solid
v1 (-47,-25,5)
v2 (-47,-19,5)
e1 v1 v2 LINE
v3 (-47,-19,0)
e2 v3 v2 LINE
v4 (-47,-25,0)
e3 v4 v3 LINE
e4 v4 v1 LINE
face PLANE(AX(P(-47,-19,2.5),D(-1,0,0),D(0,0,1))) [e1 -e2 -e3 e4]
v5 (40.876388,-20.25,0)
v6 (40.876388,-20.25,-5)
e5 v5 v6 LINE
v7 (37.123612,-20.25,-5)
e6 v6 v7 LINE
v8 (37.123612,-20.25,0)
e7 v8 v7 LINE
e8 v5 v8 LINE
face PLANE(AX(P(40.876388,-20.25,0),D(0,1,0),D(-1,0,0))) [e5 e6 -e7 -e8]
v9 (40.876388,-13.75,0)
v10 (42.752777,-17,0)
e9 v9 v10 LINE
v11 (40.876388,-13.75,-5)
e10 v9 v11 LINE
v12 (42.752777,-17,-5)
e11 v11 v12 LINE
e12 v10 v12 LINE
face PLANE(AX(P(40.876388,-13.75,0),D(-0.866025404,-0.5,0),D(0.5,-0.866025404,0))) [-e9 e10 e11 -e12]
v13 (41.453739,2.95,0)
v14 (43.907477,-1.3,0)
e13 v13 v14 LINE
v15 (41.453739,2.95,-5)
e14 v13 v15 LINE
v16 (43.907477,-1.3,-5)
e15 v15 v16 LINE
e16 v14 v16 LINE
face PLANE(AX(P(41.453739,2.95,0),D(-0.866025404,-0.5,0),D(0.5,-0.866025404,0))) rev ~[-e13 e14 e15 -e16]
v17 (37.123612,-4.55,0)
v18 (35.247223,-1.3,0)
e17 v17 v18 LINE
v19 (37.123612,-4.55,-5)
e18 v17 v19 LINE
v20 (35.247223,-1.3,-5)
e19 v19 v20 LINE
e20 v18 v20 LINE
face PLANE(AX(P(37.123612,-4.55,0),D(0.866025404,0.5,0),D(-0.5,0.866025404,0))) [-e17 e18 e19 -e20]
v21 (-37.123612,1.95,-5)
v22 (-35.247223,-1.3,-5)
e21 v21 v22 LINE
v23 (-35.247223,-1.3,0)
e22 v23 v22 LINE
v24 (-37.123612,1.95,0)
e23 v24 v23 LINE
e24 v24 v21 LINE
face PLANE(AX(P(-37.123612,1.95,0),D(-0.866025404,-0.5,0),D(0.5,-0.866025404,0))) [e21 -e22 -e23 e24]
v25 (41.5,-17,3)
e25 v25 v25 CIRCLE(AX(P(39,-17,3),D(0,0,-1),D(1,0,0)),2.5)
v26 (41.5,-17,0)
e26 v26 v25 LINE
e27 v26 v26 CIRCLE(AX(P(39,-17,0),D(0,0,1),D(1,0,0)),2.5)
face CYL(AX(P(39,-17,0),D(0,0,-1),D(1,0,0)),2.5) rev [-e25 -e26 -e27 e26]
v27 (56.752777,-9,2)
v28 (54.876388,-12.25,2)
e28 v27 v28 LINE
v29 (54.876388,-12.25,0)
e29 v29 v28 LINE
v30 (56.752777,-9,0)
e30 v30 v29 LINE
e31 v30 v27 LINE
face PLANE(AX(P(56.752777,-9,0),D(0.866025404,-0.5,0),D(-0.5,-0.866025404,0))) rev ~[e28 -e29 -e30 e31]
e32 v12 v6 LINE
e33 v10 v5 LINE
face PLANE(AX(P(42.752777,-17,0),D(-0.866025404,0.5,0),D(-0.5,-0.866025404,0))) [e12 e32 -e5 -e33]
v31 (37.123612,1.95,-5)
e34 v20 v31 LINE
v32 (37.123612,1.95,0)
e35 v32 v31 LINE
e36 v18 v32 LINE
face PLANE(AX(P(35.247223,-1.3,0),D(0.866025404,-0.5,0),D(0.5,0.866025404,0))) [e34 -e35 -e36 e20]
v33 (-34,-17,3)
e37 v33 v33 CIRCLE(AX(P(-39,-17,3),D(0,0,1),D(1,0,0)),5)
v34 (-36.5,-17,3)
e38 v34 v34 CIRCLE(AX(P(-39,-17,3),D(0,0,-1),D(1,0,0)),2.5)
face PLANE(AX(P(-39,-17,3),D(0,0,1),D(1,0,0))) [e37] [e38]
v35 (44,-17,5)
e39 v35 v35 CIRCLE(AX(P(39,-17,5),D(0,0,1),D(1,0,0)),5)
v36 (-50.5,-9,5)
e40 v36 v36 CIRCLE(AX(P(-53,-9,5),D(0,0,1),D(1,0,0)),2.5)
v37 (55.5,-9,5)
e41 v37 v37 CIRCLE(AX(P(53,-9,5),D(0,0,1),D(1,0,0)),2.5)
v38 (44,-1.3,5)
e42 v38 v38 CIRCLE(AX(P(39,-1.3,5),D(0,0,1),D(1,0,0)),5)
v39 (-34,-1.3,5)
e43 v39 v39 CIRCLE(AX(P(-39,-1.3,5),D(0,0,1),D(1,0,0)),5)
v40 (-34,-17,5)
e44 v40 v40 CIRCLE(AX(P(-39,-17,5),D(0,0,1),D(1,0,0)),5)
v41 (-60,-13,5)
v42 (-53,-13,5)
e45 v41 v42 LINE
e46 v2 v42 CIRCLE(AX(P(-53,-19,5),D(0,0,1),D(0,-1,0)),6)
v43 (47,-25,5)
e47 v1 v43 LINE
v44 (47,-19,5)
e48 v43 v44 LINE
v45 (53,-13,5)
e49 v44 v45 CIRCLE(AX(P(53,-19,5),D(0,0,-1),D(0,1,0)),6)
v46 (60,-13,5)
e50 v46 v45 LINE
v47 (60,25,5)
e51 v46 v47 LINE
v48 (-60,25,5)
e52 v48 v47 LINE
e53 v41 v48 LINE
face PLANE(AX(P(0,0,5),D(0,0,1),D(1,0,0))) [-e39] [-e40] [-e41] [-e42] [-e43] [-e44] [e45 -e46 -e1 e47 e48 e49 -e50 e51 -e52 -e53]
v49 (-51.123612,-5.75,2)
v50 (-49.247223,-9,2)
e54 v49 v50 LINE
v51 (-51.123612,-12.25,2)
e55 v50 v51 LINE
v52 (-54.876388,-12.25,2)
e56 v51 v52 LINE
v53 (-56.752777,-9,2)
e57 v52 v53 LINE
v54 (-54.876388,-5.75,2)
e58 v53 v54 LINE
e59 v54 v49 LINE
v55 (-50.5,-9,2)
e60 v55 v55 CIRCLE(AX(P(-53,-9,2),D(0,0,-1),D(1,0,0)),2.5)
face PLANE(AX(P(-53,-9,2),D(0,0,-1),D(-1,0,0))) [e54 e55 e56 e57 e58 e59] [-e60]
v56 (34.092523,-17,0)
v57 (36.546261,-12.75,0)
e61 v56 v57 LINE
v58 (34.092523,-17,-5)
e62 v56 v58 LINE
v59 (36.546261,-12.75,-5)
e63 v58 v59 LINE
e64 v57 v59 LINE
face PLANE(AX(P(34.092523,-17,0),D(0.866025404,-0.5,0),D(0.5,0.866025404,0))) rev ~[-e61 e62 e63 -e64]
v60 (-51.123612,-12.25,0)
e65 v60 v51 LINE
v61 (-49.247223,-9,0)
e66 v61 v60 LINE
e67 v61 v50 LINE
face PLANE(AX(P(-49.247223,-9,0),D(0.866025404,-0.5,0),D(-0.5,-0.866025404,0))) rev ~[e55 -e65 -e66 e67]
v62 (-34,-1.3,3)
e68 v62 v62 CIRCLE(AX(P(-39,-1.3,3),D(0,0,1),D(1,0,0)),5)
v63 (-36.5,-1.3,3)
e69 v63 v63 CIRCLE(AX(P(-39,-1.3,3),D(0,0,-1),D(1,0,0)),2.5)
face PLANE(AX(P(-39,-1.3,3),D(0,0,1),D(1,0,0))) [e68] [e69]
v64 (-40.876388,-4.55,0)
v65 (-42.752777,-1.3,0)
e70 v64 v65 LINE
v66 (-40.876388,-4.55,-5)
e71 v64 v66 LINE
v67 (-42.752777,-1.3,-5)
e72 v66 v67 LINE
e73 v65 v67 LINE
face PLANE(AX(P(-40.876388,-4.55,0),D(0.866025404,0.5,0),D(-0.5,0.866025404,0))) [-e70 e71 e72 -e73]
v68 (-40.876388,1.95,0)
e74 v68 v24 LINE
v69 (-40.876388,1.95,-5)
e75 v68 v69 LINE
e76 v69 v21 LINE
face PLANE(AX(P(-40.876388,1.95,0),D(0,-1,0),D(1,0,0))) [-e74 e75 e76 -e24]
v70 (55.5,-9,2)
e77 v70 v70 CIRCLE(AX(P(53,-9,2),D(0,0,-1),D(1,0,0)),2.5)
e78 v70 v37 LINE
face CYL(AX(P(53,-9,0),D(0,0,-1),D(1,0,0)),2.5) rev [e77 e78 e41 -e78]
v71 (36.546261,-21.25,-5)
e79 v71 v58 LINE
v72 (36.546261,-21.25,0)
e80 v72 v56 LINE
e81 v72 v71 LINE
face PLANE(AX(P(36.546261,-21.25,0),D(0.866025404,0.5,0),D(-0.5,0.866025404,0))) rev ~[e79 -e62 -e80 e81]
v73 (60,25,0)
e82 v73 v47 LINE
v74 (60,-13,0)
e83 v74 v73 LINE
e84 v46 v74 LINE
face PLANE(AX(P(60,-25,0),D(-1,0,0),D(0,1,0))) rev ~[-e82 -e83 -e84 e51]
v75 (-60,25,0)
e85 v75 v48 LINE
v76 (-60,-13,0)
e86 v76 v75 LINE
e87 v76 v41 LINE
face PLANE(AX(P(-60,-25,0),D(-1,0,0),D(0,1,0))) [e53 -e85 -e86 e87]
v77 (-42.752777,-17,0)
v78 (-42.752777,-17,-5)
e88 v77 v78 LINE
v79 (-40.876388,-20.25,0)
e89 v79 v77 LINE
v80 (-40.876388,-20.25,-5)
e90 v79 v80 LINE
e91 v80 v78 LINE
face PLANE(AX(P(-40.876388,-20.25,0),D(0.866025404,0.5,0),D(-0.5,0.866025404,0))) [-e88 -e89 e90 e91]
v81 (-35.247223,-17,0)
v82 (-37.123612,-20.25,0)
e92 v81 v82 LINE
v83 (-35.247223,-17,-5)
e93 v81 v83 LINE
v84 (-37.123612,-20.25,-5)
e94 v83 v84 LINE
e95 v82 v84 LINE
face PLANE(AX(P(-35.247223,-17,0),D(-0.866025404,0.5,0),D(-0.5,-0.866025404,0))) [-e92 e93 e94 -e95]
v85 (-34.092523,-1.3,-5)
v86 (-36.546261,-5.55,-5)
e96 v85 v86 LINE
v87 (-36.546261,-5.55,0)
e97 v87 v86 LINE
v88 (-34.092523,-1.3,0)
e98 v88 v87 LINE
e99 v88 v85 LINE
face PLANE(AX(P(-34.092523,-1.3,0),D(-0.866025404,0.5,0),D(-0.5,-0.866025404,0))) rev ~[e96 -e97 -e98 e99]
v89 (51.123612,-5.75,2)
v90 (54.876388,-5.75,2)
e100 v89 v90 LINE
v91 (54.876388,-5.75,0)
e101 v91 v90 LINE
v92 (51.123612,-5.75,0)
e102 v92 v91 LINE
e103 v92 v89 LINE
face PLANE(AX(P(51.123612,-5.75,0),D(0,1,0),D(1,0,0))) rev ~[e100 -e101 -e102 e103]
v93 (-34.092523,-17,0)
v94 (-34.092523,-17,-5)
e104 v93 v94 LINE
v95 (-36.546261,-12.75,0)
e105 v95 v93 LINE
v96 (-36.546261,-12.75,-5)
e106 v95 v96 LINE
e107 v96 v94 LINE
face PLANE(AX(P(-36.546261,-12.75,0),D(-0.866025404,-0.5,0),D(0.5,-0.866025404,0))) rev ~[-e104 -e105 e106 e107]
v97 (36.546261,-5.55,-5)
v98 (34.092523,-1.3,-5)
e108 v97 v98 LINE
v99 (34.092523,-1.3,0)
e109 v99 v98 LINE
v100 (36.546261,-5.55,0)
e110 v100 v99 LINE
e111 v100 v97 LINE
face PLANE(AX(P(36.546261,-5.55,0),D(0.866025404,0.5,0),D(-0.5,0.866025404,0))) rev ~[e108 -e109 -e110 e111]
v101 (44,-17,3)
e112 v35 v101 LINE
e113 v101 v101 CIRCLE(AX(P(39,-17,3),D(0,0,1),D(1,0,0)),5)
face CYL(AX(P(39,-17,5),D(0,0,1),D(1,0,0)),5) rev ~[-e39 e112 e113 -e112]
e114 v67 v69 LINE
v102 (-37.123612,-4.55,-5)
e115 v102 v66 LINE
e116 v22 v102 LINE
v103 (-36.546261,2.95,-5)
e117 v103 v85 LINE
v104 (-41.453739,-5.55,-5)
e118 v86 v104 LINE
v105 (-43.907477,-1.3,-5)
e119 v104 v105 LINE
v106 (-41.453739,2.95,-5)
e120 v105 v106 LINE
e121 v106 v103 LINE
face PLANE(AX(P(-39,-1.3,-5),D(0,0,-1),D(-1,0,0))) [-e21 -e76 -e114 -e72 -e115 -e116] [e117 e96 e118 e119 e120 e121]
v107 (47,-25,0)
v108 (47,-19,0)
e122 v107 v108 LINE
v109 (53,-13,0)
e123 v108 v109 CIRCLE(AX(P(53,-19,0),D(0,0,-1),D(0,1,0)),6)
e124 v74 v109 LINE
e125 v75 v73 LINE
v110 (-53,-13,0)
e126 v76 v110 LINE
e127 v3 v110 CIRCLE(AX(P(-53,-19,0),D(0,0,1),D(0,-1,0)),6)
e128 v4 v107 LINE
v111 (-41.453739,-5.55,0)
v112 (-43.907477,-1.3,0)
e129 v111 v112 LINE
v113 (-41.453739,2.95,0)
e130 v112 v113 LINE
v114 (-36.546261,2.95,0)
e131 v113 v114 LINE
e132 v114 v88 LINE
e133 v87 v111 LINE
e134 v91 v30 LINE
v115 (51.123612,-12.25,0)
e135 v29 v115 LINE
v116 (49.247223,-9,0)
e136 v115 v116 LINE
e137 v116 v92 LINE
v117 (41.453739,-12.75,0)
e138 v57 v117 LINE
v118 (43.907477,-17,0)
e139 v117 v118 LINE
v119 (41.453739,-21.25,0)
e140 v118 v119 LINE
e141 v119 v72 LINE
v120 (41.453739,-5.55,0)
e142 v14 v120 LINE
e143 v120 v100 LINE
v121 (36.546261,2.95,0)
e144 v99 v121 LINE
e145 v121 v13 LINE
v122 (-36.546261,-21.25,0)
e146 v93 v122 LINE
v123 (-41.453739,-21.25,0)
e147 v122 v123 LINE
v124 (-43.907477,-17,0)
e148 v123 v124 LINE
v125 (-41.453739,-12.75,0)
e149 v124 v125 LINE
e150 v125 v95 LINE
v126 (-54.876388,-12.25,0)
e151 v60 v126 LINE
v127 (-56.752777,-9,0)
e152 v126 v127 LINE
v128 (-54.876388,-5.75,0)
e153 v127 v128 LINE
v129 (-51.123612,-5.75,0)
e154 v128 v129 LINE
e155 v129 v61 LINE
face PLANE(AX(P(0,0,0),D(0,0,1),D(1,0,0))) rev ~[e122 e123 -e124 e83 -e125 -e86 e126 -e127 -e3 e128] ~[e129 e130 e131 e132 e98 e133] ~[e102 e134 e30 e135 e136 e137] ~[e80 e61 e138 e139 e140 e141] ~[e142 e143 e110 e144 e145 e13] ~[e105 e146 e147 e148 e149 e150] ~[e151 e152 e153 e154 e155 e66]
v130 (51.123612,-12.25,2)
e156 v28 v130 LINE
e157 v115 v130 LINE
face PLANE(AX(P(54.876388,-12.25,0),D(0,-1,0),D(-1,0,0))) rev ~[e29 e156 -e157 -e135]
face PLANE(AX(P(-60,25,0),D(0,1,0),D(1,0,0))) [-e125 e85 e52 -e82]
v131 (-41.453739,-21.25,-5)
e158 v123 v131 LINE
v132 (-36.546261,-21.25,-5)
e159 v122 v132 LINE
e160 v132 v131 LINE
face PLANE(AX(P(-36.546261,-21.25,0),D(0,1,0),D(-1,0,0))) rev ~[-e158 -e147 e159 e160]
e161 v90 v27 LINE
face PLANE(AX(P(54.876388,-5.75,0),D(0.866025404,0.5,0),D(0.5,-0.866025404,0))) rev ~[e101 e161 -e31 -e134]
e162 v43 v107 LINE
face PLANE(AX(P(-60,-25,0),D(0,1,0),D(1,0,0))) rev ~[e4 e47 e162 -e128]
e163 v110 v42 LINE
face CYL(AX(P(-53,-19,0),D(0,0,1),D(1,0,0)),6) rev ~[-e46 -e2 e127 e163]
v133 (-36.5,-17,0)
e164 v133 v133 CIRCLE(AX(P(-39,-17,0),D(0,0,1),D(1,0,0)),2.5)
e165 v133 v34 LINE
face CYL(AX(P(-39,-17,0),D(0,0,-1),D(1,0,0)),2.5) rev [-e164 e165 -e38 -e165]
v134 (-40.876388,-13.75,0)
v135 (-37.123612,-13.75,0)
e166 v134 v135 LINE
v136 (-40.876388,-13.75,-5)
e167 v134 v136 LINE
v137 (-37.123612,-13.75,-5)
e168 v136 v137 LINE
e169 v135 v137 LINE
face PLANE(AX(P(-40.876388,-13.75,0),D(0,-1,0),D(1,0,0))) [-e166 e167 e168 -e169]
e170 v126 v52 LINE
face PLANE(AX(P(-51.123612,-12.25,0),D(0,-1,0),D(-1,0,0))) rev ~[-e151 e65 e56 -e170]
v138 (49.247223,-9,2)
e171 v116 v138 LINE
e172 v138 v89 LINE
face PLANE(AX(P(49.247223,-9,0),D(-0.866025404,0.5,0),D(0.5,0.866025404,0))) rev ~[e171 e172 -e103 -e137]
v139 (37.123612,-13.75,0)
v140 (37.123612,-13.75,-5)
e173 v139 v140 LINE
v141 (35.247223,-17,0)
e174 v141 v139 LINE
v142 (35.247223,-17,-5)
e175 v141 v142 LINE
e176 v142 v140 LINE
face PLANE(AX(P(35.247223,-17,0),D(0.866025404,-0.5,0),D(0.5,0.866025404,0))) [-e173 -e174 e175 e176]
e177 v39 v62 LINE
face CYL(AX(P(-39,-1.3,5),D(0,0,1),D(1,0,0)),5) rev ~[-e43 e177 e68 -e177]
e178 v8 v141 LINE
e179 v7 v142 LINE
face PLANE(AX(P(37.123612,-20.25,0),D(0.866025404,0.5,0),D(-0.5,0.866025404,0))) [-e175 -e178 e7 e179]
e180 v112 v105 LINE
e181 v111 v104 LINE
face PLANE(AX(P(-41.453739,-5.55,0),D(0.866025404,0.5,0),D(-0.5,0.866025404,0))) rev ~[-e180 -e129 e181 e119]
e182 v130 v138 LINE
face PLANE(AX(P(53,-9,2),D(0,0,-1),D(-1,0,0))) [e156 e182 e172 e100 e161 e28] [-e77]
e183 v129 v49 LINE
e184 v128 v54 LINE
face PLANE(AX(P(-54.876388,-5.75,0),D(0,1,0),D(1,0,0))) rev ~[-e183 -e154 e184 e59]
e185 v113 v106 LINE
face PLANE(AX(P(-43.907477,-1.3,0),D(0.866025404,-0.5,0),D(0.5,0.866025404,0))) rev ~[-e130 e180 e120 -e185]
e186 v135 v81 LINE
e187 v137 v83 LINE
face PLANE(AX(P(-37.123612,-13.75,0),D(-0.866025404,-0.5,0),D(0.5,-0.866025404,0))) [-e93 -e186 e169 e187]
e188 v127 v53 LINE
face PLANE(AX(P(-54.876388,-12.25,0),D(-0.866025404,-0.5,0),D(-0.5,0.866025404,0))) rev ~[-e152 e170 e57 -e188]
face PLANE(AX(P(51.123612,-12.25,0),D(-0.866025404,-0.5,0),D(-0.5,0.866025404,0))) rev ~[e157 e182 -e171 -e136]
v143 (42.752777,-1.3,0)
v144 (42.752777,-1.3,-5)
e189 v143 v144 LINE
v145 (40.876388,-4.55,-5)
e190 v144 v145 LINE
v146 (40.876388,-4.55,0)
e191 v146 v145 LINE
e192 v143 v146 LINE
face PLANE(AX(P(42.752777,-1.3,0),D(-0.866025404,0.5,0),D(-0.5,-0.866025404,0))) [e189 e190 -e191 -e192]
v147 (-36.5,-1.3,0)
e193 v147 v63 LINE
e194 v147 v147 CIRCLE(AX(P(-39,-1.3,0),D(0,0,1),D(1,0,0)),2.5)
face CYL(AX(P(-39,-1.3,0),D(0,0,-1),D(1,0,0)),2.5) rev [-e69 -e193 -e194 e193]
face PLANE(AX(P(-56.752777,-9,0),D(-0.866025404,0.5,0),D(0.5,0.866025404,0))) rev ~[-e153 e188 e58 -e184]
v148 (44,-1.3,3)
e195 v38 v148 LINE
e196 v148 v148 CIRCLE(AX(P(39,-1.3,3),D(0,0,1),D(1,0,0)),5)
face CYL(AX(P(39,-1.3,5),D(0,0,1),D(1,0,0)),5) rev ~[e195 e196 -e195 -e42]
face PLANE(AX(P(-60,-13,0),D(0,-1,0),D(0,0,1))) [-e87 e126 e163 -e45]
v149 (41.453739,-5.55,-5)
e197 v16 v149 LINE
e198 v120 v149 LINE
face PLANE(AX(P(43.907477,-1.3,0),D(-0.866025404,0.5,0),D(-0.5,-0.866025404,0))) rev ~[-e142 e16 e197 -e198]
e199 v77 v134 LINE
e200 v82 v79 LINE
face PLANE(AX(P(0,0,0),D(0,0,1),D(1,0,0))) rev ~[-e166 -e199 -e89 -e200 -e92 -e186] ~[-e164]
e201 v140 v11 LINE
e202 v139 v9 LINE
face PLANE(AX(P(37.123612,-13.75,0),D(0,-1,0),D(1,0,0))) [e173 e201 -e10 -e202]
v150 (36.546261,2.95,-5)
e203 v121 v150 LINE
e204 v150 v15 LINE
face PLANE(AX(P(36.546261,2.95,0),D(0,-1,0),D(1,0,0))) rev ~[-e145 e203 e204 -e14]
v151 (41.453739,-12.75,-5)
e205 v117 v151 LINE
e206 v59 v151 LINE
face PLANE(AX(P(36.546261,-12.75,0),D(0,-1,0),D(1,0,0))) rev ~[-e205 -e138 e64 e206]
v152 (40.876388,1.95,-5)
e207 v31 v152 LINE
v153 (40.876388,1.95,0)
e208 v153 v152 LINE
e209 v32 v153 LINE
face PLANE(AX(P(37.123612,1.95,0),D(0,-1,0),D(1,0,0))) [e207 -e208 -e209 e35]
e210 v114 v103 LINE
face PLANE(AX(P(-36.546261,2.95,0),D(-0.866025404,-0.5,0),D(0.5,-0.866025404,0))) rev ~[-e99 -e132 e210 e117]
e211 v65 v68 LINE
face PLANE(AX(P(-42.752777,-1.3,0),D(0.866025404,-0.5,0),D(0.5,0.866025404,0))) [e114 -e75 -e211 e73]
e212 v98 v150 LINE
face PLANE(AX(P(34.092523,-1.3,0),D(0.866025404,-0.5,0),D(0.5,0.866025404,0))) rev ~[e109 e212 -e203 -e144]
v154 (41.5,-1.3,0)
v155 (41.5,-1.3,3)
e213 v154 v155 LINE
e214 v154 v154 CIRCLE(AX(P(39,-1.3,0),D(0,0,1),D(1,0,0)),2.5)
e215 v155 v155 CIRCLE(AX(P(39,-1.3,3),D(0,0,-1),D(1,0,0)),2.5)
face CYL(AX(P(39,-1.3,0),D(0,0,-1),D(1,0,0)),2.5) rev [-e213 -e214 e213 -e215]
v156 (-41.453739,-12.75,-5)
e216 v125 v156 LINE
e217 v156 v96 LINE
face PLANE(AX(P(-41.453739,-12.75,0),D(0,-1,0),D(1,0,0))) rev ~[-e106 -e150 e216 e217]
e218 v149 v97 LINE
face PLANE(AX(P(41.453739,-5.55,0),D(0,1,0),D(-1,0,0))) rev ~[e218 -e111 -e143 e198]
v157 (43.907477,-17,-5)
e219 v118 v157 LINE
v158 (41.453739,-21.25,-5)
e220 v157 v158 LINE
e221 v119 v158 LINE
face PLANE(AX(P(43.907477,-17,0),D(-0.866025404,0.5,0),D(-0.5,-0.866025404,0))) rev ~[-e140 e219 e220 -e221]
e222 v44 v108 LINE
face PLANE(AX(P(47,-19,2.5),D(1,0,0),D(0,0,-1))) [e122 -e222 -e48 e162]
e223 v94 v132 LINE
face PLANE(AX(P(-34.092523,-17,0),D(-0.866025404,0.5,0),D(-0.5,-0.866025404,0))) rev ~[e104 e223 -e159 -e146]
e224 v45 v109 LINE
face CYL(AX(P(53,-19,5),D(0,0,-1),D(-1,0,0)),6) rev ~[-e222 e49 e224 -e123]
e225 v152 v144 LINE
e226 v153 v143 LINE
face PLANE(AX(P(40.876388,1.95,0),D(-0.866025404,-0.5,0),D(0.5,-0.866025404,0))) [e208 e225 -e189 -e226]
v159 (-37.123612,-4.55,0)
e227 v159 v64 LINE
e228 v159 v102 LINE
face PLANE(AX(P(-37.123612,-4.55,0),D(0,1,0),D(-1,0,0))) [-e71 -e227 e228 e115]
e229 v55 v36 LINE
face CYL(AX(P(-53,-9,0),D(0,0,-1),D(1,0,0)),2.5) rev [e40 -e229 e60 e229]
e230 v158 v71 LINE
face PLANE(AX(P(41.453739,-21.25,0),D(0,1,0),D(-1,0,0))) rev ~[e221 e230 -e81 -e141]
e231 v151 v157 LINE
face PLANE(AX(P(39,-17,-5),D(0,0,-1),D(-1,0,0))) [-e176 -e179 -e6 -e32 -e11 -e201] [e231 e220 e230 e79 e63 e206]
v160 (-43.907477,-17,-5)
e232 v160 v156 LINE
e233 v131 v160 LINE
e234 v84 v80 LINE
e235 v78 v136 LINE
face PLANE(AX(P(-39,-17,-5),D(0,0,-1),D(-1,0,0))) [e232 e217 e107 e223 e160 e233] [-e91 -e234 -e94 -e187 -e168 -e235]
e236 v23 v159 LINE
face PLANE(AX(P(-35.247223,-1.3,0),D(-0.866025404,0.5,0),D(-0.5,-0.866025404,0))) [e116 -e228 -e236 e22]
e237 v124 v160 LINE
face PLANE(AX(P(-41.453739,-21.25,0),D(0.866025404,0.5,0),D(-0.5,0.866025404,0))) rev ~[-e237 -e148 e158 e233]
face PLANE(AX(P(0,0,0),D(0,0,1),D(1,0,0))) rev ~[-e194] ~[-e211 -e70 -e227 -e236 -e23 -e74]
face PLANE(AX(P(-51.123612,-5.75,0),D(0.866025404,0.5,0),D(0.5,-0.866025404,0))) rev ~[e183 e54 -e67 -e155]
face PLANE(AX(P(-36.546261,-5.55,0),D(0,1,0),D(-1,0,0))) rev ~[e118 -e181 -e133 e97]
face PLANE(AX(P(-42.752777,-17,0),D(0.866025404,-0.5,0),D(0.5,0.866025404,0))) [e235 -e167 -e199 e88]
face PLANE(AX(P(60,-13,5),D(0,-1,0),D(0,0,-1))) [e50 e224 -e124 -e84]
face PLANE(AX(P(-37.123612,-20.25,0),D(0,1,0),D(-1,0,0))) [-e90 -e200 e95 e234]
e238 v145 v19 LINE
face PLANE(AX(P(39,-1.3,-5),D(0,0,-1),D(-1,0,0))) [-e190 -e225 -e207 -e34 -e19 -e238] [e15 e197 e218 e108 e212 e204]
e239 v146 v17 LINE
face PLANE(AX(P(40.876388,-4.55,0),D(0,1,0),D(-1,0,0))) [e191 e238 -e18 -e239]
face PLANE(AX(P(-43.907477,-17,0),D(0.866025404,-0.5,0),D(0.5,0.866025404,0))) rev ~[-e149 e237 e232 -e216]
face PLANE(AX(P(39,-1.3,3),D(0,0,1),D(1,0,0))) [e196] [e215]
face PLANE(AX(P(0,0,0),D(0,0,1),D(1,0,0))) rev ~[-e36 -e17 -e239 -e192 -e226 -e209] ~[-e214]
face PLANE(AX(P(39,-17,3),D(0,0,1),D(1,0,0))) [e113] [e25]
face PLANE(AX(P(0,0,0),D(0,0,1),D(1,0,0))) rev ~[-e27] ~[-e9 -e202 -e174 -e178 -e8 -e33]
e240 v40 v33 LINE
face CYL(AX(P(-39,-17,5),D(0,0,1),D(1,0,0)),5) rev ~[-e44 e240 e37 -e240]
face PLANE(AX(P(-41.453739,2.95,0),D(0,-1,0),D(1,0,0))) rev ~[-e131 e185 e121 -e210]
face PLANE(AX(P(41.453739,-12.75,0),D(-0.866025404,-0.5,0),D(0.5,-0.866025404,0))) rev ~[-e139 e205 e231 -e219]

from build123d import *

# Parameters (mm, degrees)
SKETCH_1_W          = 120
SKETCH_1_H          = 50
SKETCH_1_R          = 2.5
EXTRUDE_2_DEPTH     = 5
SKETCH_4_R          = 2.5
CUT_EXTRUDE_1_DEPTH = 66.192024052
SKETCH_7_R          = 5
CUT_EXTRUDE_4_DEPTH = 2
EXTRUDE_3_DEPTH     = 5
SKETCH_11_W         = 5
SKETCH_11_H         = 12
CUT_EXTRUDE_5_DEPTH = 13
FILLET_3_R          = 6
SKETCH_12_W         = 5
SKETCH_12_H         = 12
CUT_EXTRUDE_6_DEPTH = 13
FILLET_4_R          = 6
CUT_EXTRUDE_7_DEPTH = 2


with BuildPart() as part:
    # 草图1 → 凸台-拉伸2 (new body)
    with BuildSketch(Plane.XY):
        Rectangle(SKETCH_1_W, SKETCH_1_H)
        with Locations((-53, -9)):
            Circle(SKETCH_1_R, mode=Mode.SUBTRACT)
        with Locations((53, -9)):
            Circle(SKETCH_1_R, mode=Mode.SUBTRACT)
    extrude(amount=EXTRUDE_2_DEPTH)

    # 草图4 → 切除-拉伸1 (cut, through all)
    with BuildSketch(Plane.XY):
        with Locations((-39, -1.3)):
            Circle(SKETCH_4_R)
        with Locations((-39, -17)):
            Circle(SKETCH_4_R)
        with Locations((39, -1.3)):
            Circle(SKETCH_4_R)
        with Locations((39, -17)):
            Circle(SKETCH_4_R)
    extrude(amount=CUT_EXTRUDE_1_DEPTH, mode=Mode.SUBTRACT)

    # 草图7 → 切除-拉伸4 (cut)
    with BuildSketch(Plane.XY.offset(5)):
        with Locations((-39, -1.3)):
            Circle(SKETCH_7_R)
        with Locations((-39, -17)):
            Circle(SKETCH_7_R)
        with Locations((39, -1.3)):
            Circle(SKETCH_7_R)
        with Locations((39, -17)):
            Circle(SKETCH_7_R)
    extrude(amount=-CUT_EXTRUDE_4_DEPTH, mode=Mode.SUBTRACT)

    # 草图9 → 凸台-拉伸3 (add)
    # profile 1 of 4: a face of its own
    with BuildSketch(Plane(origin=(0, 0, 0), x_dir=(-1, 0, 0), z_dir=(0, 0, -1))):
        Polygon((-34.092522712, -1.3), (-36.546261356, 2.95), (-41.453738644, 2.95), (-43.907477288, -1.3), (-41.453738644, -5.55), (-36.546261356, -5.55), align=None)
        Polygon((-35.24722325, -1.3), (-37.123611625, 1.95), (-40.876388375, 1.95), (-42.75277675, -1.3), (-40.876388375, -4.55), (-37.123611625, -4.55), align=None, mode=Mode.SUBTRACT)
    # profile 2 of 4: a face of its own
    with BuildSketch(Plane(origin=(0, 0, 0), x_dir=(-1, 0, 0), z_dir=(0, 0, -1))):
        Polygon((-34.092522712, -17), (-36.546261356, -12.75), (-41.453738644, -12.75), (-43.907477288, -17), (-41.453738644, -21.25), (-36.546261356, -21.25), align=None)
        Polygon((-35.24722325, -17), (-37.123611625, -13.75), (-40.876388375, -13.75), (-42.75277675, -17), (-40.876388375, -20.25), (-37.123611625, -20.25), align=None, mode=Mode.SUBTRACT)
    # profile 3 of 4: a face of its own
    with BuildSketch(Plane(origin=(0, 0, 0), x_dir=(-1, 0, 0), z_dir=(0, 0, -1))):
        Polygon((43.907477288, -1.3), (41.453738644, 2.95), (36.546261356, 2.95), (34.092522712, -1.3), (36.546261356, -5.55), (41.453738644, -5.55), align=None)
        Polygon((42.75277675, -1.3), (40.876388375, 1.95), (37.123611625, 1.95), (35.24722325, -1.3), (37.123611625, -4.55), (40.876388375, -4.55), align=None, mode=Mode.SUBTRACT)
    # profile 4 of 4: a face of its own
    with BuildSketch(Plane(origin=(0, 0, 0), x_dir=(-1, 0, 0), z_dir=(0, 0, -1))):
        Polygon((43.907477288, -17), (41.453738644, -12.75), (36.546261356, -12.75), (34.092522712, -17), (36.546261356, -21.25), (41.453738644, -21.25), align=None)
        Polygon((42.75277675, -17), (40.876388375, -13.75), (37.123611625, -13.75), (35.24722325, -17), (37.123611625, -20.25), (40.876388375, -20.25), align=None, mode=Mode.SUBTRACT)
    extrude(amount=EXTRUDE_3_DEPTH)

    # 草图11 → 切除-拉伸5 (cut)
    with BuildSketch(Plane(origin=(60, 0, 0), x_dir=(0, 0, -1), z_dir=(1, 0, 0))):
        with Locations((-2.5, -19)):
            Rectangle(SKETCH_11_W, SKETCH_11_H)
    extrude(amount=-CUT_EXTRUDE_5_DEPTH, mode=Mode.SUBTRACT)

    # 圆角3
    fillet_3_edges = [part.edges().sort_by_distance(p)[0] for p in [
        (47, -13, 2.5),
    ]]
    fillet(fillet_3_edges, radius=FILLET_3_R)

    # 草图12 → 切除-拉伸6 (cut)
    with BuildSketch(Plane.ZY.offset(60)):
        with Locations((2.5, -19)):
            Rectangle(SKETCH_12_W, SKETCH_12_H)
    extrude(amount=-CUT_EXTRUDE_6_DEPTH, mode=Mode.SUBTRACT)

    # 圆角4
    fillet_4_edges = [part.edges().sort_by_distance(p)[0] for p in [
        (-47, -13, 2.5),
    ]]
    fillet(fillet_4_edges, radius=FILLET_4_R)

    # 草图13 → 切除-拉伸7 (cut)
    with BuildSketch(Plane(origin=(0, 0, 0), x_dir=(-1, 0, 0), z_dir=(0, 0, -1))):
        Polygon((-49.24722325, -9), (-51.123611625, -5.75), (-54.876388375, -5.75), (-56.75277675, -9), (-54.876388375, -12.25), (-51.123611625, -12.25), align=None)
        Polygon((56.75277675, -9), (54.876388375, -5.75), (51.123611625, -5.75), (49.24722325, -9), (51.123611625, -12.25), (54.876388375, -12.25), align=None)
    extrude(amount=-CUT_EXTRUDE_7_DEPTH, mode=Mode.SUBTRACT)


solid = part.part
